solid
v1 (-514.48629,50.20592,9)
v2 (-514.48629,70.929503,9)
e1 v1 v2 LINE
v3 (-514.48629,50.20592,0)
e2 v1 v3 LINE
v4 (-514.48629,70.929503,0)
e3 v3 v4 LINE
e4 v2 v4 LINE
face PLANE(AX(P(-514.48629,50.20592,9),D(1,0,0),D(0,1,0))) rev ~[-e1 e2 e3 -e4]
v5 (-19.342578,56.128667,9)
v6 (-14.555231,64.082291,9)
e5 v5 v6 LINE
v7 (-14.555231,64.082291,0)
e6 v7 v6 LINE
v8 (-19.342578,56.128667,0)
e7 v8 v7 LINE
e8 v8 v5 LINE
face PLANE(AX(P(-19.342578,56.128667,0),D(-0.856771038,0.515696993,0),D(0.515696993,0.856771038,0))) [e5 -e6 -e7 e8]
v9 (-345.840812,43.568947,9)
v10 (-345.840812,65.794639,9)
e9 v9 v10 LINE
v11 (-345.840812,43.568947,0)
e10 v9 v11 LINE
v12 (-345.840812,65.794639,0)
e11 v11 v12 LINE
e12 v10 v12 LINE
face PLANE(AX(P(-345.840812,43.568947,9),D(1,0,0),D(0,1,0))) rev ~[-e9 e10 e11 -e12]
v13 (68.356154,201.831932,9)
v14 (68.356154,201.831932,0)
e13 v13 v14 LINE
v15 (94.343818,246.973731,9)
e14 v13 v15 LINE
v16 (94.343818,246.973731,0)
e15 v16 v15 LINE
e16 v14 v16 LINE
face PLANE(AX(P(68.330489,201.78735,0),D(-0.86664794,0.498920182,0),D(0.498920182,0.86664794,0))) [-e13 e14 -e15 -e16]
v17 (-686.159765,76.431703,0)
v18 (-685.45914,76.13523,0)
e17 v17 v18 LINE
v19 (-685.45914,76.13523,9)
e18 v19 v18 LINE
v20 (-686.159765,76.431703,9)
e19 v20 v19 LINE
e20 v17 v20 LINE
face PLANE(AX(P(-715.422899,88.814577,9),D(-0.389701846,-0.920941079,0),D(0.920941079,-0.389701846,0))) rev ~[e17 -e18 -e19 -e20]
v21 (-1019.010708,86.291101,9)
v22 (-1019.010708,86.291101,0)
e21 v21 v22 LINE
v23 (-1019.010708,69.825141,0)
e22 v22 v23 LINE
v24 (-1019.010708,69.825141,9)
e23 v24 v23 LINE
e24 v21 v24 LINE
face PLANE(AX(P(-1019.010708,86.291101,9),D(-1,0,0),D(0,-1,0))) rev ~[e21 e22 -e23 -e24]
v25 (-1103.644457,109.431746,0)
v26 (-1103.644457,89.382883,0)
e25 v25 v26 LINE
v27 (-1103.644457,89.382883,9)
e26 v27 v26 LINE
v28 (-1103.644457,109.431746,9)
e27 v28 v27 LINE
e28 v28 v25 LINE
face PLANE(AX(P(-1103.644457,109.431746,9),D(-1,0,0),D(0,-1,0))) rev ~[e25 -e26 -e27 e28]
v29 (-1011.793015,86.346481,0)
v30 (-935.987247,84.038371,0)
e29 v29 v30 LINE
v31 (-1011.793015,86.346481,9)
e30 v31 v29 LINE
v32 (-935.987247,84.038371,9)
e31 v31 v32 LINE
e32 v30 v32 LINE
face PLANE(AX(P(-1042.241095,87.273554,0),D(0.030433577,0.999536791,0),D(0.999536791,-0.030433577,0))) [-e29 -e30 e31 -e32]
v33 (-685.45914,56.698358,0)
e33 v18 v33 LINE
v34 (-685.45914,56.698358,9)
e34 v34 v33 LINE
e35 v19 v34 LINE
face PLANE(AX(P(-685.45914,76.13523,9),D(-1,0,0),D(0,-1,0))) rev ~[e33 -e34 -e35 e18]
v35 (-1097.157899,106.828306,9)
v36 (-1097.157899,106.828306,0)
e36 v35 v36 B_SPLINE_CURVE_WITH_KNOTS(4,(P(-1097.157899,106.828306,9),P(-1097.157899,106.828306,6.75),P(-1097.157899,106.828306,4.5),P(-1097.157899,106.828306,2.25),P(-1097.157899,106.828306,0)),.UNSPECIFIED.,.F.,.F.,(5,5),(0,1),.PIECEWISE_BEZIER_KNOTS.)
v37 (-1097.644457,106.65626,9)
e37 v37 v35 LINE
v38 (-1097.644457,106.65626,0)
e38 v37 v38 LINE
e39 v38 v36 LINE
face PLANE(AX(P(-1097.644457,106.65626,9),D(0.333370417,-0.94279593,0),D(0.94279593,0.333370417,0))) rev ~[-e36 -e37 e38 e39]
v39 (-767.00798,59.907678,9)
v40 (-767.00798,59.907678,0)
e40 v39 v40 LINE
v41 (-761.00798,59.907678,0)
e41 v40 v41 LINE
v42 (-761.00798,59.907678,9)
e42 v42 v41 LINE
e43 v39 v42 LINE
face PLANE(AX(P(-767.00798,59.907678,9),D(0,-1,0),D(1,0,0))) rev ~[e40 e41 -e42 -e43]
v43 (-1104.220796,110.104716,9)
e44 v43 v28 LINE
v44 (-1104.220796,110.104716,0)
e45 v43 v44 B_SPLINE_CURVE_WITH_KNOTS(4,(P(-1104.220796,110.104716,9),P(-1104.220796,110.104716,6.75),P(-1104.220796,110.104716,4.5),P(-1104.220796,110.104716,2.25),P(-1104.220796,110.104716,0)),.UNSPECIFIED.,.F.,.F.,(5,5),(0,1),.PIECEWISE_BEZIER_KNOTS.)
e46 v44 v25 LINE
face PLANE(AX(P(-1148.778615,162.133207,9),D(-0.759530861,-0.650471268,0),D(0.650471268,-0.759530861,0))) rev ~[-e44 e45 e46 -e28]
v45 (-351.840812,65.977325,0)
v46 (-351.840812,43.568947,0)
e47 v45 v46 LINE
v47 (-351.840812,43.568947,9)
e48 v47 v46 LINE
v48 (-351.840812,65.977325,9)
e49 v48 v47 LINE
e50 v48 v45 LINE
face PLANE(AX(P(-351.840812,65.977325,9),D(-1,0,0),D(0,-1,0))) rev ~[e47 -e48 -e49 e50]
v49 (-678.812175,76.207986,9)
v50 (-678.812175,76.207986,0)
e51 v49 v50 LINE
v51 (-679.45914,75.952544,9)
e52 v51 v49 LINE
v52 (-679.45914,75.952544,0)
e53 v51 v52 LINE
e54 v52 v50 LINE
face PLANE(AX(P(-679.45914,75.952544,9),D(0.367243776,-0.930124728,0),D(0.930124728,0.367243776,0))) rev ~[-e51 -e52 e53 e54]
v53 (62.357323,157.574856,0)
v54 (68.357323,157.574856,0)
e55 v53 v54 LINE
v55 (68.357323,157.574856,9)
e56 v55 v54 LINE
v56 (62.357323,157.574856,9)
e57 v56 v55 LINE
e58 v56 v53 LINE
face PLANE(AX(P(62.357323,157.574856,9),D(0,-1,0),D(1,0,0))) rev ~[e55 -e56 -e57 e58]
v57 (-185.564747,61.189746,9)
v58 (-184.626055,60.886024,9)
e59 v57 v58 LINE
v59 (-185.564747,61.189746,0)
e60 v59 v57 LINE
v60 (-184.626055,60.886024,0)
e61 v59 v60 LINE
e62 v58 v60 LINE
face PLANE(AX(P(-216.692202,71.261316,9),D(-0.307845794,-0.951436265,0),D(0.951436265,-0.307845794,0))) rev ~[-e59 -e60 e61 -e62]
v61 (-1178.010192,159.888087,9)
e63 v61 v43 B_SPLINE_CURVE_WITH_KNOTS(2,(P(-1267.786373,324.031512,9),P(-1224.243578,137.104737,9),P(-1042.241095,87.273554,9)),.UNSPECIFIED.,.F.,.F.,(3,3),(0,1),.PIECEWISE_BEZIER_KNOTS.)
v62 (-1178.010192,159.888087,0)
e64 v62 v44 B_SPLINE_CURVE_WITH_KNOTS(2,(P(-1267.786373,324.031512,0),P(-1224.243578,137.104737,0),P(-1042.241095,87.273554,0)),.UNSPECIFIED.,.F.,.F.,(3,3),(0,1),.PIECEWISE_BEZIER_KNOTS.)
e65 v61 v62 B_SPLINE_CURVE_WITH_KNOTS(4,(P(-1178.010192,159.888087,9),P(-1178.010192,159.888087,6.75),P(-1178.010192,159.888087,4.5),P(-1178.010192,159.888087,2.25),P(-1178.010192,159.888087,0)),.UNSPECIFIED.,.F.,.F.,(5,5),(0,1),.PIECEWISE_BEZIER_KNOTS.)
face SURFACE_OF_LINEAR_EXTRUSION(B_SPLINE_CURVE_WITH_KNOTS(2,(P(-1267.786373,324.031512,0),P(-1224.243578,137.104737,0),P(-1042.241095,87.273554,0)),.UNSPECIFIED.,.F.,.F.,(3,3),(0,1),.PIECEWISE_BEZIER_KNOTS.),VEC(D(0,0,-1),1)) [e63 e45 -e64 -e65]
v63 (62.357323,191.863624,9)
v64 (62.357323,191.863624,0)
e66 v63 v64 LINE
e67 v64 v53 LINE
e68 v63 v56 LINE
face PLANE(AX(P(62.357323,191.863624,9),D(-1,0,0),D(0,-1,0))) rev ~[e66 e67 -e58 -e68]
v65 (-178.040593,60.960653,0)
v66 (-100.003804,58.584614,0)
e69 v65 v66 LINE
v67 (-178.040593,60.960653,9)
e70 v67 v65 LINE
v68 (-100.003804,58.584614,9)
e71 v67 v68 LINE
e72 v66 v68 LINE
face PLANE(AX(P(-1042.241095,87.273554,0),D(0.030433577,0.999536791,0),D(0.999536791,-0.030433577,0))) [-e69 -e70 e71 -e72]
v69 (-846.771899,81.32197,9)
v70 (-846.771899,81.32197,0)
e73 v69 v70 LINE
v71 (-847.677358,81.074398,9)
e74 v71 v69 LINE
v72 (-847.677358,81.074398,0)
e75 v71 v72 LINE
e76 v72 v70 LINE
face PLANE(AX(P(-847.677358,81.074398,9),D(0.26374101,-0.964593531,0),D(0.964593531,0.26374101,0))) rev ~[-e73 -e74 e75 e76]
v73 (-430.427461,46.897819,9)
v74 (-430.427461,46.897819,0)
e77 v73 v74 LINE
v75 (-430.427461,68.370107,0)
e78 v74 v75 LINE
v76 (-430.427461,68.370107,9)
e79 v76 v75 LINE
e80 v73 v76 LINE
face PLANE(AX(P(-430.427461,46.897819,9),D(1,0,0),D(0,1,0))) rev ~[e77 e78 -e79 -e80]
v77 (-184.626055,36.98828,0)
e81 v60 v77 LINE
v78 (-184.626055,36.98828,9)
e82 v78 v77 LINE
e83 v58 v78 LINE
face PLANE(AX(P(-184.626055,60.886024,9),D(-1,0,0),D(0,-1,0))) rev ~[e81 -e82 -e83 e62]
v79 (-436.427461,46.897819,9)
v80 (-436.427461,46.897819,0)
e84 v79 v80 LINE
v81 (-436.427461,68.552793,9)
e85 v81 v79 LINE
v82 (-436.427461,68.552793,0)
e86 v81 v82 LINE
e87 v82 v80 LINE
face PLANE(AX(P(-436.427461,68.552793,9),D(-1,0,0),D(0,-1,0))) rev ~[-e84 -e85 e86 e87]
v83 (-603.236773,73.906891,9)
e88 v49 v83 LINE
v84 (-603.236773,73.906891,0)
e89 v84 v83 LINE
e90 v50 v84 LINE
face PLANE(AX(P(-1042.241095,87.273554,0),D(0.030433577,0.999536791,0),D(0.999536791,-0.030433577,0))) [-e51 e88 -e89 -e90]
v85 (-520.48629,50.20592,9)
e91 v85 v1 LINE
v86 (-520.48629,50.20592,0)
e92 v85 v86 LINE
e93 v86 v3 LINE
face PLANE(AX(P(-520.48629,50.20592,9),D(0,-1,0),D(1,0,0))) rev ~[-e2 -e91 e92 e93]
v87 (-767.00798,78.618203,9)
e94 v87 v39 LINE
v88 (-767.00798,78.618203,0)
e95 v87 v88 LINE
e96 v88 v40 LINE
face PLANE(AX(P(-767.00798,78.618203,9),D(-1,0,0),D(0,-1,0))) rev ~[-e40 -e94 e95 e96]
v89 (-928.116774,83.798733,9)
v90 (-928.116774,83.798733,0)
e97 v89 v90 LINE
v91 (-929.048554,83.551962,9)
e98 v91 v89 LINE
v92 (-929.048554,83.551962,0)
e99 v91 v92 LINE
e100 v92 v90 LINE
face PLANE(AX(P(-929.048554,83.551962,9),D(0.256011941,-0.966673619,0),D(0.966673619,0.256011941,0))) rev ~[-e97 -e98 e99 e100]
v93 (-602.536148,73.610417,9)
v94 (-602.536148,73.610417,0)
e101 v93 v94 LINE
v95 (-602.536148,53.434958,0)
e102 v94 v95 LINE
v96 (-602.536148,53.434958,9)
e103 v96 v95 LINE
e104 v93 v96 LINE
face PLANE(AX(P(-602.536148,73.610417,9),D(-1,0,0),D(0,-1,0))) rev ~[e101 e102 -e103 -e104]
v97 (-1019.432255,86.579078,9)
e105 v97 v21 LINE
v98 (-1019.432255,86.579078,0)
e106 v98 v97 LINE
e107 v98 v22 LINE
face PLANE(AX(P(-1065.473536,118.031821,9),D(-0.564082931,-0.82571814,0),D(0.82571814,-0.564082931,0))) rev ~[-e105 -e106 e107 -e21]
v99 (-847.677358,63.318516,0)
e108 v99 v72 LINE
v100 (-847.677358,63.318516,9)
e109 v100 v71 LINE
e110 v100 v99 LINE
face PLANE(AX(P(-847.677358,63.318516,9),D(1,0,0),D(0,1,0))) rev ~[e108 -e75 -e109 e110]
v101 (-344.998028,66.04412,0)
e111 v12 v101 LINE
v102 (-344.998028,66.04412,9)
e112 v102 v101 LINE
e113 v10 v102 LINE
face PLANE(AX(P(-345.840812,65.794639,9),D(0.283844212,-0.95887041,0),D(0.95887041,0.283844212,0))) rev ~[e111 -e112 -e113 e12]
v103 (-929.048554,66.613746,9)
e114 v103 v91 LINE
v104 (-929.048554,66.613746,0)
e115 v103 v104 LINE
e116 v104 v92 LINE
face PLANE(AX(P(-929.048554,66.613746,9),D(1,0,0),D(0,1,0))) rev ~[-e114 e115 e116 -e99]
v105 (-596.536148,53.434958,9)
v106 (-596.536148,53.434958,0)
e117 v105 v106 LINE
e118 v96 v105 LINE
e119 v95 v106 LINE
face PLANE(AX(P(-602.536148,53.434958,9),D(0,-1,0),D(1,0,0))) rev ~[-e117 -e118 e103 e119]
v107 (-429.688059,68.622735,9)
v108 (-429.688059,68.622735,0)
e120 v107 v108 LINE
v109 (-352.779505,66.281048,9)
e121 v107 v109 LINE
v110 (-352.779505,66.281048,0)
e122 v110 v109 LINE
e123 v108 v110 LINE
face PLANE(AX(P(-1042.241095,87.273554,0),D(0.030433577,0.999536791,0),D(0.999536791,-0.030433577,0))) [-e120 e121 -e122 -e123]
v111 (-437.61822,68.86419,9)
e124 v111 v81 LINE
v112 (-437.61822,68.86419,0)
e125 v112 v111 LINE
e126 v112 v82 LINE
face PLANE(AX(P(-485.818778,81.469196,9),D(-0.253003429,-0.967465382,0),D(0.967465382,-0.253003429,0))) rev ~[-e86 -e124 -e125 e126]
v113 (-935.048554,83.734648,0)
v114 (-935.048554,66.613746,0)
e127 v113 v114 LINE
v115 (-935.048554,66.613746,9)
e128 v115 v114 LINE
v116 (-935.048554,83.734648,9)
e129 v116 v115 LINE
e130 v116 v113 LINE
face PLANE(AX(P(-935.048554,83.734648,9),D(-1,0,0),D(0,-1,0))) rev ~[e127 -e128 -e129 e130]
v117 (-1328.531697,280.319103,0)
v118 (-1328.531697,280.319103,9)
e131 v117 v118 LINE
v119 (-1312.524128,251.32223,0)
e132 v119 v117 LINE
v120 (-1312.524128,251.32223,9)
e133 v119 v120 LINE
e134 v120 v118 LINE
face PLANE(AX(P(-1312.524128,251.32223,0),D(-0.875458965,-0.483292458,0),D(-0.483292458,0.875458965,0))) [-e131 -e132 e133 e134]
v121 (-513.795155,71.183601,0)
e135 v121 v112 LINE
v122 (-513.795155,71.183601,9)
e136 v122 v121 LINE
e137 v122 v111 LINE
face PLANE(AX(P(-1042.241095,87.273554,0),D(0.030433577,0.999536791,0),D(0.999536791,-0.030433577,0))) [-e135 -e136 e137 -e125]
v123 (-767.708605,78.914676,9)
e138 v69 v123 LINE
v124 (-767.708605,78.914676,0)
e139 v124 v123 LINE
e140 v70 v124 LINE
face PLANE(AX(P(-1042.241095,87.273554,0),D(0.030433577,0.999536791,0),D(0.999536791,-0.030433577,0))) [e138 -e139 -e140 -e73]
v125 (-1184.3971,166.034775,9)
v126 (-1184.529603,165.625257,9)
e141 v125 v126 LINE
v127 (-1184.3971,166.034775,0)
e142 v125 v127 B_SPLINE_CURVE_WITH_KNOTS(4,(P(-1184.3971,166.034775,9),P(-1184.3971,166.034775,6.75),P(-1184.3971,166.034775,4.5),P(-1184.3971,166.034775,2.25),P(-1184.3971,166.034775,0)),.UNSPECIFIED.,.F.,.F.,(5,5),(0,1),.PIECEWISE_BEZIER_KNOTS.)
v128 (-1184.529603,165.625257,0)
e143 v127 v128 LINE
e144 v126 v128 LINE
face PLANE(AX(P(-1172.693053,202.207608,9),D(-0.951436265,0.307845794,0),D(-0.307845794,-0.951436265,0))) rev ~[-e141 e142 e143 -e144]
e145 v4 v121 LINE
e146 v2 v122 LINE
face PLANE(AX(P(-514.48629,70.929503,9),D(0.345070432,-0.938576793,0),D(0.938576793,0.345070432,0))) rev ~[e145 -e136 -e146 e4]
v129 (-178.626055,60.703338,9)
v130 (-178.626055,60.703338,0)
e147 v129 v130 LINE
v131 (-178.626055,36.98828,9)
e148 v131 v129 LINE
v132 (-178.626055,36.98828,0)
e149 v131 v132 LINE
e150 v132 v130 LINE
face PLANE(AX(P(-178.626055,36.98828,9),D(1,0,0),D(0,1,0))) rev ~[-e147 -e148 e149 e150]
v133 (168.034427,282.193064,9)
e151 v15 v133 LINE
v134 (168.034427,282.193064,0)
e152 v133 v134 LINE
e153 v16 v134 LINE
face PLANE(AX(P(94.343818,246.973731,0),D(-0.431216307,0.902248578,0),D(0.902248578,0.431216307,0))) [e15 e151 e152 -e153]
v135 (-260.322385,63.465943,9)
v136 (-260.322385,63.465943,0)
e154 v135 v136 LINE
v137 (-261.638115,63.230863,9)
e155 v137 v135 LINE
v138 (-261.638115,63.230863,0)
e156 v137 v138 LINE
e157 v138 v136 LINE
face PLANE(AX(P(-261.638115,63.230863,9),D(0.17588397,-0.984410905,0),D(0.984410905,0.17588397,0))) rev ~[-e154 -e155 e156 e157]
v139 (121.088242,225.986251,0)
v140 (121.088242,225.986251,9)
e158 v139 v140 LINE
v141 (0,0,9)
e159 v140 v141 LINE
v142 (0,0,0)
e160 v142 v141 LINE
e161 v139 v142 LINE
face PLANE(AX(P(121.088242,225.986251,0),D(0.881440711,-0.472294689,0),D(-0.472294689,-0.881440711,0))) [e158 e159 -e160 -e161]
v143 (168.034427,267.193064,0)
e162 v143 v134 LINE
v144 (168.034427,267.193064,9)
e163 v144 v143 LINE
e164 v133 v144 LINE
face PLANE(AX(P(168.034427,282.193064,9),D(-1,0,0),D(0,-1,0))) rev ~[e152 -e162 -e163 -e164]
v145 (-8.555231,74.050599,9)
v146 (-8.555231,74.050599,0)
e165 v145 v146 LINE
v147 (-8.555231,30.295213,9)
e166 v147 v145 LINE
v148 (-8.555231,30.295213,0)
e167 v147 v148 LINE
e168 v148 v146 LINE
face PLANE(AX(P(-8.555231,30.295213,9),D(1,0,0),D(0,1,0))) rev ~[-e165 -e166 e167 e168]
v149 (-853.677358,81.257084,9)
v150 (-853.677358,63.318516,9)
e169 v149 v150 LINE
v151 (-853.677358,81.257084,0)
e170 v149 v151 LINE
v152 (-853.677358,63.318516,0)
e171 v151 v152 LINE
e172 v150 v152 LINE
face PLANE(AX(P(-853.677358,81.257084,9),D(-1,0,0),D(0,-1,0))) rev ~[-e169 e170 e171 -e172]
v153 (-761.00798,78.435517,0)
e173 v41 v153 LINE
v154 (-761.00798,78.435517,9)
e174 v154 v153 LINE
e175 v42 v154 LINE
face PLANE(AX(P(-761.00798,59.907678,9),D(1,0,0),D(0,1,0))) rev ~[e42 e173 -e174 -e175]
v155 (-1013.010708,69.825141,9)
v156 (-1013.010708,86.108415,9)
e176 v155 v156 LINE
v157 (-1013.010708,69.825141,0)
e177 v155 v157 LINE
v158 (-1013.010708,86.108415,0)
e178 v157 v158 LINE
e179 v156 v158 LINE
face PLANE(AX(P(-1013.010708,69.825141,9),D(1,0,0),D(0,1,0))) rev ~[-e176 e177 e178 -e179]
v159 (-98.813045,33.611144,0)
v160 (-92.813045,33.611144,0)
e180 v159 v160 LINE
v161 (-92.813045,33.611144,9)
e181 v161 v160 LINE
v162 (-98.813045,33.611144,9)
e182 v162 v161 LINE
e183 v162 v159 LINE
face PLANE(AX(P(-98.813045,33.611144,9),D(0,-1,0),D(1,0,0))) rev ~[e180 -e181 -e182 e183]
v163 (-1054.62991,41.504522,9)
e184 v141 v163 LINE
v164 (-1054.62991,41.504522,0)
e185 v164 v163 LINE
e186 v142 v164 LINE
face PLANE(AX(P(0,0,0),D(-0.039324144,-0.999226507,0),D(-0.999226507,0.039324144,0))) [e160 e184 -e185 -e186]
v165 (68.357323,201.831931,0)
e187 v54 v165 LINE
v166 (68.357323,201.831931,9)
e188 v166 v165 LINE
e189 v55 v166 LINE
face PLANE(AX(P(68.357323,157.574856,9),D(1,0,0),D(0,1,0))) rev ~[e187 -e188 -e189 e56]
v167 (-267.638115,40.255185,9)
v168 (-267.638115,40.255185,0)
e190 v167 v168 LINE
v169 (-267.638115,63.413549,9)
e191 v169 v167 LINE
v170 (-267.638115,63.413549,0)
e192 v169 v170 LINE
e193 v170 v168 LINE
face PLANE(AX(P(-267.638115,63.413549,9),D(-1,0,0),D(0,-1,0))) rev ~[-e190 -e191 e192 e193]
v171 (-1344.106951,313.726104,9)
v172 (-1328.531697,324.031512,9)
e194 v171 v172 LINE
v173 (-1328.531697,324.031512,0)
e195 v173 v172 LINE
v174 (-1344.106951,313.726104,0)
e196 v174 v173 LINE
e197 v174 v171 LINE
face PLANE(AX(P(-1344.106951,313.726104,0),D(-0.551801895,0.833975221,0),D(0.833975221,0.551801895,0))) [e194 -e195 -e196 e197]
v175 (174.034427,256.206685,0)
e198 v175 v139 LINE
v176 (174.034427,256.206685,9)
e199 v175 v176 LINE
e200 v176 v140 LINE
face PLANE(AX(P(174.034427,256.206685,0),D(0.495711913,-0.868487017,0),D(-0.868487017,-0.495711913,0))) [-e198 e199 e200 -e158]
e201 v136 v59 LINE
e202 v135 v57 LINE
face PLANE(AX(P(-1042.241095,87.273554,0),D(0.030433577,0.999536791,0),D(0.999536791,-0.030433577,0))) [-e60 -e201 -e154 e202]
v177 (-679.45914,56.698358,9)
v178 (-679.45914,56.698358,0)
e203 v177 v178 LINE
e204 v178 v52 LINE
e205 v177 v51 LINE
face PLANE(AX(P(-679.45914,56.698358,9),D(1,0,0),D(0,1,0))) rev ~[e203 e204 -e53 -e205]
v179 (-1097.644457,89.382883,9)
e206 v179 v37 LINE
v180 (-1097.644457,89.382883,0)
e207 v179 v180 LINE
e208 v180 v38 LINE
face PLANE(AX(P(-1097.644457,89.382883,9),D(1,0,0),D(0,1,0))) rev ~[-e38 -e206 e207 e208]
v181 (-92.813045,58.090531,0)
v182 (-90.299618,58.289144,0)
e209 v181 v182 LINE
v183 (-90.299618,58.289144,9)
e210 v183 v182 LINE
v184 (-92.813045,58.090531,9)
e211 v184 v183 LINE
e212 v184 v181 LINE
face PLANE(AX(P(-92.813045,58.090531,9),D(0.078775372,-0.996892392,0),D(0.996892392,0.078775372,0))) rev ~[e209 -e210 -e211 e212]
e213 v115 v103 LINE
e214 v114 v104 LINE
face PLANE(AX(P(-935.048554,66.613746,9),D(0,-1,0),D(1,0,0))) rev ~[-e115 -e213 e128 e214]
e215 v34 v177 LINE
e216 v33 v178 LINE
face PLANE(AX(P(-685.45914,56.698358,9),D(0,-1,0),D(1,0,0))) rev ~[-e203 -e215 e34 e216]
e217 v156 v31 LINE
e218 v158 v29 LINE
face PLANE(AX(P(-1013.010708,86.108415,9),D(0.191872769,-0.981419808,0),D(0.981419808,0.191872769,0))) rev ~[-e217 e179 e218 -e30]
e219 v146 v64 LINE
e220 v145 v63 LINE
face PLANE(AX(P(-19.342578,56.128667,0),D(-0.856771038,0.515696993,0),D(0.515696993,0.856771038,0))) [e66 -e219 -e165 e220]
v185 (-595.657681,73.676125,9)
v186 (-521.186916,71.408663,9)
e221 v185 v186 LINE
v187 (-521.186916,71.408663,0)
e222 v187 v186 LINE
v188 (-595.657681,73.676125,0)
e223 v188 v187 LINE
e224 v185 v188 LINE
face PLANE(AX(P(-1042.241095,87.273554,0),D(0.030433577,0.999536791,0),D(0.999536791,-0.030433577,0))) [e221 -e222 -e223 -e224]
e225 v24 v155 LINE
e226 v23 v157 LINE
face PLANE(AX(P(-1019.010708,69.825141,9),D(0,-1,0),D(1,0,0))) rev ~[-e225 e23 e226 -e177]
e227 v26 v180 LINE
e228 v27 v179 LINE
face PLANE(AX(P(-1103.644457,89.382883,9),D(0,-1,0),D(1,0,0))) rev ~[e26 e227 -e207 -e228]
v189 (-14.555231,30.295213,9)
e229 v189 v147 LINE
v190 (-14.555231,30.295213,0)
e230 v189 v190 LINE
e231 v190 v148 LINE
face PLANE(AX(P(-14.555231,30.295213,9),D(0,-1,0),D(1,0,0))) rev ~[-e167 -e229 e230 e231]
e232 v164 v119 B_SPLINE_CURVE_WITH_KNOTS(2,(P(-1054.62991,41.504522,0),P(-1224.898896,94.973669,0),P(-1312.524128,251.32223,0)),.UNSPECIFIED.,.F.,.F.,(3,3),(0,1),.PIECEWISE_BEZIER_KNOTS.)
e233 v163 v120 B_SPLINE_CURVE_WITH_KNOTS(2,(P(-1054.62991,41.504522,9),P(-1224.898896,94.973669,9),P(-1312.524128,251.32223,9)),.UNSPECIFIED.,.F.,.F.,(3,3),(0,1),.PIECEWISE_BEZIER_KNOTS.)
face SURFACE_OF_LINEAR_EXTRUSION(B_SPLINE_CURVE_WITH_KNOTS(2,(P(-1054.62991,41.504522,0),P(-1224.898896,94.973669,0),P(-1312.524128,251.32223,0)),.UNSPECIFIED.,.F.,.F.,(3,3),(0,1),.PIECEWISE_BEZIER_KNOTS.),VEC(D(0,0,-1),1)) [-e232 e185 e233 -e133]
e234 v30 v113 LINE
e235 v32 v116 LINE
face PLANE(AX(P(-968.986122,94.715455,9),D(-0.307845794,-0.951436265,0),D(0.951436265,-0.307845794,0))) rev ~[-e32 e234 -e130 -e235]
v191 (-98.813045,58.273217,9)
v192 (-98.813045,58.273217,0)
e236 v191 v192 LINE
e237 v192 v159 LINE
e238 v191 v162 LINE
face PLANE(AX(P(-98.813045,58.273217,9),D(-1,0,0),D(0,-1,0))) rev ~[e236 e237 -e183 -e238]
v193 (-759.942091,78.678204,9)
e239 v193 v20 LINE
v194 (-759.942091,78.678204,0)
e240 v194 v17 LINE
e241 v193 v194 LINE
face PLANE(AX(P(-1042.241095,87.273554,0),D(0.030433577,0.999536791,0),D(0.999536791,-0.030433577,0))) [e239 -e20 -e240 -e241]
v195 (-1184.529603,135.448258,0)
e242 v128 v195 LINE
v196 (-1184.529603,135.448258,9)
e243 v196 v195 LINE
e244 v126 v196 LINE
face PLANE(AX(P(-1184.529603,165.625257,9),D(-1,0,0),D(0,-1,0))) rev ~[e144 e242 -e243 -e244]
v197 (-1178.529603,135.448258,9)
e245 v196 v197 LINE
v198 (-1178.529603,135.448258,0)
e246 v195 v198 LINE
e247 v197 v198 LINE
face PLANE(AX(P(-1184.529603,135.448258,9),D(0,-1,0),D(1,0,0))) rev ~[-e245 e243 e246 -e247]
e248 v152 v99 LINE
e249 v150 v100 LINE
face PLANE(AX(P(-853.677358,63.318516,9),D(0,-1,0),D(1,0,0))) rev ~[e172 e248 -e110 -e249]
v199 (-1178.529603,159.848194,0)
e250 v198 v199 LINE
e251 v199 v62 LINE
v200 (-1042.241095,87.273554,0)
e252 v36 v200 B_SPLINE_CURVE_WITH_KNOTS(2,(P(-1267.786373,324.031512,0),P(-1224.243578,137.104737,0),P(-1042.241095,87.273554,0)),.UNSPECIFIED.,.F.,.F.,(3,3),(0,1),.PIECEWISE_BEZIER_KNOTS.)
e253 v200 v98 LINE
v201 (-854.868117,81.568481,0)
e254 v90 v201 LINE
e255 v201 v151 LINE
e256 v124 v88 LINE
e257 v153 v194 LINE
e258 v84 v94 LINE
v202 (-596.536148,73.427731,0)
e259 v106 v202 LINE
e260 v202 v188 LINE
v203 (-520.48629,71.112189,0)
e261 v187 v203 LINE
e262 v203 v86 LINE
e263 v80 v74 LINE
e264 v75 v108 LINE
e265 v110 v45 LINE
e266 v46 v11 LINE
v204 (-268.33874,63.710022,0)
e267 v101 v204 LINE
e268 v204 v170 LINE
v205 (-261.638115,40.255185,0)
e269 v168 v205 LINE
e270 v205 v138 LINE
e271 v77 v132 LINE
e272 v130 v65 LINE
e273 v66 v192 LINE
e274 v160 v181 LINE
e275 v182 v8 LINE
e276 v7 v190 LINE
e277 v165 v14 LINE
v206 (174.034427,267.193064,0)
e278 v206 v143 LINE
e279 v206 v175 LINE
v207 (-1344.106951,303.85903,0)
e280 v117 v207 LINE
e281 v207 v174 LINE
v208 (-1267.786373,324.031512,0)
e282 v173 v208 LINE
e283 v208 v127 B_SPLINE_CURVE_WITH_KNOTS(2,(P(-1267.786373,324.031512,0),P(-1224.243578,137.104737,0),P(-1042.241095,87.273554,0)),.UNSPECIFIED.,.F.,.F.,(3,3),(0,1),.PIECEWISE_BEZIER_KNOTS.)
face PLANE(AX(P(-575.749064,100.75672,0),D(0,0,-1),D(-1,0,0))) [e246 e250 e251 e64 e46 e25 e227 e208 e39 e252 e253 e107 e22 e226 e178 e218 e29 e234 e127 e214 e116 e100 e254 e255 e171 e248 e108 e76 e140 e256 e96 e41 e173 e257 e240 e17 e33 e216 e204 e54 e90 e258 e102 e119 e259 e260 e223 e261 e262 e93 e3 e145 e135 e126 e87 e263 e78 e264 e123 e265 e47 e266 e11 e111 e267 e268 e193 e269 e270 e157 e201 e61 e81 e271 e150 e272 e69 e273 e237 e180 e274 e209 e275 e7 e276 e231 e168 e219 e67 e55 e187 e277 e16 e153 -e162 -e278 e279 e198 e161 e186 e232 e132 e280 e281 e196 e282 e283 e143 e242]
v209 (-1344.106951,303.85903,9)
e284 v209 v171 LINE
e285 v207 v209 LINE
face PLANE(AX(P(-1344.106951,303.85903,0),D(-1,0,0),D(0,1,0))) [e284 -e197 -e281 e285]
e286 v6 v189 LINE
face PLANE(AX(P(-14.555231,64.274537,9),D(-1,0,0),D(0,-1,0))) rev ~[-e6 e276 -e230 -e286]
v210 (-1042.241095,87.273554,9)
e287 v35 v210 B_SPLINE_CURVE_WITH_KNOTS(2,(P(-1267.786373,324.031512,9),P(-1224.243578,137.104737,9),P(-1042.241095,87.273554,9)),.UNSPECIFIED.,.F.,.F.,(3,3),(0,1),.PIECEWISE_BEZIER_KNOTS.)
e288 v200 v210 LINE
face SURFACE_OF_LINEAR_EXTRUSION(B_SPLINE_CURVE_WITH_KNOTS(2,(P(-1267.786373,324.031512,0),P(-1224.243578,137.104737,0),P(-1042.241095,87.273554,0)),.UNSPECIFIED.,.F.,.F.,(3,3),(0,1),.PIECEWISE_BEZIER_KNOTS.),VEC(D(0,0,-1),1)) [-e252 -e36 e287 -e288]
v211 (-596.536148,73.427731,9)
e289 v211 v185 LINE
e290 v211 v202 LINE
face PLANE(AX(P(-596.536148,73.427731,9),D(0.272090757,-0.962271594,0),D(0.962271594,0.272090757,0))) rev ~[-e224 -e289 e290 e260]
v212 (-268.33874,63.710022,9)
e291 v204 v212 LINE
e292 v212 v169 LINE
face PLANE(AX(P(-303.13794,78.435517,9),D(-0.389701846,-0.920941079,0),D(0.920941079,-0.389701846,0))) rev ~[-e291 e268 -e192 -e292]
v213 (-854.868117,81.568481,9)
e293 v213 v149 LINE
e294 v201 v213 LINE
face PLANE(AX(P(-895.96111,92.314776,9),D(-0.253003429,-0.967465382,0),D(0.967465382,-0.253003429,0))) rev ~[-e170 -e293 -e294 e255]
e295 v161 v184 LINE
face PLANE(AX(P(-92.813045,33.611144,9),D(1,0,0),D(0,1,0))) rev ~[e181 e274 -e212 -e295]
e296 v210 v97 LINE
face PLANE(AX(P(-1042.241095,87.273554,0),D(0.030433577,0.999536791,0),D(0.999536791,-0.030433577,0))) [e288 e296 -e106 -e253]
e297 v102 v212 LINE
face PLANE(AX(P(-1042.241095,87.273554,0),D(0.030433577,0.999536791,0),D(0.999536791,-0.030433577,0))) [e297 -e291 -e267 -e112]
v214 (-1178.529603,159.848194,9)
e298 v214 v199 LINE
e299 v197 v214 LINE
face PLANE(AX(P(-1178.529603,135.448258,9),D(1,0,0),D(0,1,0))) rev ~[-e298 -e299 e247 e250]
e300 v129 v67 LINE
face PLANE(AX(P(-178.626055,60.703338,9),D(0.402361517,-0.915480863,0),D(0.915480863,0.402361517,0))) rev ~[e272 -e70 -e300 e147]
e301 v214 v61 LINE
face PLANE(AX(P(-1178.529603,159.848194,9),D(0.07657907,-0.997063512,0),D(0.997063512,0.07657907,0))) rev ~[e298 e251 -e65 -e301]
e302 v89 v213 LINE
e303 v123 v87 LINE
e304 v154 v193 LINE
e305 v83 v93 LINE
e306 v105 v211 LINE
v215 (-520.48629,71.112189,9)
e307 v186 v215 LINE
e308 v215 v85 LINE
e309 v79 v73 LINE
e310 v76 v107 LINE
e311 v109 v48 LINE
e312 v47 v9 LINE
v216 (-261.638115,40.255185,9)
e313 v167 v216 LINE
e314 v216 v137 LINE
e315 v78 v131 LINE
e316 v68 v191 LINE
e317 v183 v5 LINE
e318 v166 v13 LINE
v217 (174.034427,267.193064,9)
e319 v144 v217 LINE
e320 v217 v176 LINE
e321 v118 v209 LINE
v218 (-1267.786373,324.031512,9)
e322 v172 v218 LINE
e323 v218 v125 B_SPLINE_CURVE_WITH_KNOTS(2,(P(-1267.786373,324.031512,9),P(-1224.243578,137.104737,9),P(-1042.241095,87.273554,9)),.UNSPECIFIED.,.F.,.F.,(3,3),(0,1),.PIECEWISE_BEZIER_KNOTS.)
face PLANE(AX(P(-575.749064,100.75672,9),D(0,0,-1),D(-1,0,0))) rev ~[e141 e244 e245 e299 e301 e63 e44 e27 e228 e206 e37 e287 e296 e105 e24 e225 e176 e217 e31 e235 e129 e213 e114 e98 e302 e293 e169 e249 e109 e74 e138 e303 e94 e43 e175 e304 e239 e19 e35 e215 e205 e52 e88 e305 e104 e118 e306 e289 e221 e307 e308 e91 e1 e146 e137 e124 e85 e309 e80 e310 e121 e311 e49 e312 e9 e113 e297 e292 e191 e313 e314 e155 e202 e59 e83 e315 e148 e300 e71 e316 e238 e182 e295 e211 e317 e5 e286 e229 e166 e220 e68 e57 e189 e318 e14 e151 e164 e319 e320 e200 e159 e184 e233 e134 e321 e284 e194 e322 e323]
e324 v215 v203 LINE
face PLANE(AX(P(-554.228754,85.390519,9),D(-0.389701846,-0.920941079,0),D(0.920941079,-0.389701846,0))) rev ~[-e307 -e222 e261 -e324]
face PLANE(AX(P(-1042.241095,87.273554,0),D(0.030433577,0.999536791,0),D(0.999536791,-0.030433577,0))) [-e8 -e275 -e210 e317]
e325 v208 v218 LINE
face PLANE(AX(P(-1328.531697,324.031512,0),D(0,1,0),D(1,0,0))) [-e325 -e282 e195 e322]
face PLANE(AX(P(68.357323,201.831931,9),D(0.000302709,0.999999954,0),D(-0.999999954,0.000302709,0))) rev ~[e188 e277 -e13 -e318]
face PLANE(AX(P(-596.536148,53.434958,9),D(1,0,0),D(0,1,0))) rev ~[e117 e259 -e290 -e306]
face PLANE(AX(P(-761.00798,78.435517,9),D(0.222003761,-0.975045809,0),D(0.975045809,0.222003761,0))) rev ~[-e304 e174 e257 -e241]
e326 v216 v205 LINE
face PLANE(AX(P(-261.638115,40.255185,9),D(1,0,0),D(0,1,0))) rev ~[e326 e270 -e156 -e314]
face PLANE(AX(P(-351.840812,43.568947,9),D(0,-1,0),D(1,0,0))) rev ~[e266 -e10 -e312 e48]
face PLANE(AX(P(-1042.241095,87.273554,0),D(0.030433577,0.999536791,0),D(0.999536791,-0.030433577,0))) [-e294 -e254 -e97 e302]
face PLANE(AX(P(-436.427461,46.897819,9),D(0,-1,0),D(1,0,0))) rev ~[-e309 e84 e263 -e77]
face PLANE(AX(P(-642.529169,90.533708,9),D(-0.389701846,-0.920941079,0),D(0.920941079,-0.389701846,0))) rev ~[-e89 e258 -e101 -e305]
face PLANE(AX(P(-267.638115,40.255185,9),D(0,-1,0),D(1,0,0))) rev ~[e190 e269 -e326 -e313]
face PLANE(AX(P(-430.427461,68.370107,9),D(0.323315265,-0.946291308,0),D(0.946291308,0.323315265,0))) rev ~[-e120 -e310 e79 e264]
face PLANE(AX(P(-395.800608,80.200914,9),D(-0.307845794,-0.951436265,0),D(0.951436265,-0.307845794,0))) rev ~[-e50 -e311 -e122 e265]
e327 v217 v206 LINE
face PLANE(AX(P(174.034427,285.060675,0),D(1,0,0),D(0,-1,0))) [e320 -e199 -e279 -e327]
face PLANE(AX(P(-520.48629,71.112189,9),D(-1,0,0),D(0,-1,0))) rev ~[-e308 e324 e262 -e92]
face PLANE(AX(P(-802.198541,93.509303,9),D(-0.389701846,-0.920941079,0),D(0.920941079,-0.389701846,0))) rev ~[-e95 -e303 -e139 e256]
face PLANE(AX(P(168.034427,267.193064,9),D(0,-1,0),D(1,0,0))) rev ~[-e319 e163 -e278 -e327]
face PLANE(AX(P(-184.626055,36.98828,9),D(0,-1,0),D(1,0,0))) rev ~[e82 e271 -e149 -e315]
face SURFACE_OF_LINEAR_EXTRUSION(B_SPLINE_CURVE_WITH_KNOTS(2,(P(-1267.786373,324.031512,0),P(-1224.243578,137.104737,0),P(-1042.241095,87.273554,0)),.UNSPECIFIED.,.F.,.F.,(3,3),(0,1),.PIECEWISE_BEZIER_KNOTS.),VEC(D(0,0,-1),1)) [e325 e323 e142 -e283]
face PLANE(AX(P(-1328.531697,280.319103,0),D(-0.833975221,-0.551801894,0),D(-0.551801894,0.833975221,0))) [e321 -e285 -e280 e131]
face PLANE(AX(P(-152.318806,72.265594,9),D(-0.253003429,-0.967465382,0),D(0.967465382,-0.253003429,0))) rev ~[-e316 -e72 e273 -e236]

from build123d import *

# Parameters (mm, degrees)
BOSS_EXTRU_2_DEPTH      = 9
ENL_V_MAT_EXTRU_2_DEPTH = 9
ENL_V_MAT_EXTRU_3_DEPTH = 10


with BuildPart() as part:
    # Esquisse2 → Boss.-Extru.2 (new body)
    with BuildSketch(Plane.XY):
        with BuildLine():
            Line((0, 0), (-1054.629910096, 41.504522095))
            add(Edge.make_bspline(
                [(-1054.629910096, 41.504522095), (-1224.898895692, 94.973668649), (-1312.524127552, 251.32222999)],
                knots=[0, 0, 0, 1, 1, 1], degree=2))
            Line((-1312.524127552, 251.32222999), (-1328.531696794, 280.319102935))
            Line((-1328.531696794, 280.319102935), (-1344.106951464, 303.85903019))
            Line((-1344.106951464, 303.85903019), (-1344.106951464, 313.726103663))
            Line((-1344.106951464, 313.726103663), (-1328.531696794, 324.031511808))
            Line((-1328.531696794, 324.031511808), (-1267.786373333, 324.031511808))
            add(Edge.make_bspline(
                [(-1267.786373333, 324.031511808), (-1224.243578326, 137.104736819), (-1042.241095265, 87.273554015)],
                knots=[0, 0, 0, 1, 1, 1], degree=2))
            Line((-1042.241095265, 87.273554015), (-19.342578419, 56.128666857))
            Line((-19.342578419, 56.128666857), (68.330488592, 201.78734955))
            Line((68.330488592, 201.78734955), (94.343817504, 246.973731483))
            Line((94.343817504, 246.973731483), (174.034427263, 285.060674799))
            Line((174.034427263, 285.060674799), (174.034427263, 256.206685378))
            Line((174.034427263, 256.206685378), (121.088242371, 225.986251341))
            Line((121.088242371, 225.986251341), (0, 0))
        make_face()
    extrude(amount=BOSS_EXTRU_2_DEPTH)

    # Esquisse4 → Enlèv. mat.-Extru.2 (cut)
    with BuildSketch(Plane.XY.offset(9)):
        Polygon((-1184.529602798, 165.625257232), (-1184.529602798, 135.448257781), (-1178.529602798, 135.448257781), (-1178.529602798, 159.848193824), (-1148.778615176, 162.133206692), (-1103.644457427, 109.431746416), (-1103.644457427, 89.382882562), (-1097.644457427, 89.382882562), (-1097.644457427, 106.656259625), (-1065.473536438, 118.031821421), (-1019.010707999, 86.291101209), (-1019.010707999, 69.825141164), (-1013.010707999, 69.825141164), (-1013.010707999, 86.108415126), (-968.986122001, 94.715454809), (-935.048554391, 83.734648387), (-935.048554391, 66.613746424), (-929.048554391, 66.613746424), (-929.048554391, 83.551962304), (-895.961109624, 92.314776132), (-853.677357938, 81.257084201), (-853.677357938, 63.31851584), (-847.677357938, 63.31851584), (-847.677357938, 81.074398118), (-802.198540596, 93.509303435), (-767.007980127, 78.618202682), (-767.007980127, 59.907678473), (-761.007980127, 59.907678473), (-761.007980127, 78.435516599), (-715.422898508, 88.814577228), (-685.459139962, 76.135229657), (-685.459139962, 56.698357737), (-679.459139962, 56.698357737), (-679.459139962, 75.952543574), (-642.529169259, 90.533708307), (-602.536147946, 73.610416895), (-602.536147946, 53.434957827), (-596.536147946, 53.434957827), (-596.536147946, 73.427730812), (-554.228753776, 85.390518635), (-520.486290487, 71.112189055), (-520.486290487, 50.205919764), (-514.486290487, 50.205919764), (-514.486290487, 70.929502973), (-485.818778234, 81.469195532), (-436.427460908, 68.552792675), (-436.427460908, 46.897819438), (-430.427460908, 46.897819438), (-430.427460908, 68.370106592), (-395.80060759, 80.200914059), (-351.840812464, 65.977325434), (-351.840812464, 43.56894702), (-345.840812464, 43.56894702), (-345.840812464, 65.794639351), (-303.137940146, 78.435516599), (-267.638115004, 63.41354861), (-267.638115004, 40.255184833), (-261.638115004, 40.255184833), (-261.638115004, 63.230862527), (-216.692202472, 71.261315551), (-184.626054736, 60.886023927), (-184.626054736, 36.988279678), (-178.626054736, 36.988279678), (-178.626054736, 60.703337844), (-152.318805778, 72.265594394), (-98.813045081, 58.273216832), (-98.813045081, 33.611144324), (-92.813045081, 33.611144324), (-92.813045081, 58.090530749), (-14.555231491, 64.274536633), (-14.555231491, 30.295213064), (-8.555231491, 30.295213064), (-8.555231491, 74.242844187), (19.143152313, 159.848193824), (62.357322712, 191.863623789), (62.357322712, 157.574856228), (68.357322712, 157.574856228), (68.357322712, 201.831931343), (-1172.693052787, 202.207608368), align=None)
    extrude(amount=-ENL_V_MAT_EXTRU_2_DEPTH, mode=Mode.SUBTRACT)

    # Esquisse5 → Enlèv. mat.-Extru.3 (cut)
    with BuildSketch(Plane.XY.offset(9)):
        Polygon((168.034427263, 282.193063915), (168.034427263, 267.193063915), (174.034427263, 267.193063915), (199.390837842, 261.800934677), (195.304614358, 289.974370277), (176.522323958, 289.61592962), align=None)
    extrude(amount=-ENL_V_MAT_EXTRU_3_DEPTH, mode=Mode.SUBTRACT)


solid = part.part
